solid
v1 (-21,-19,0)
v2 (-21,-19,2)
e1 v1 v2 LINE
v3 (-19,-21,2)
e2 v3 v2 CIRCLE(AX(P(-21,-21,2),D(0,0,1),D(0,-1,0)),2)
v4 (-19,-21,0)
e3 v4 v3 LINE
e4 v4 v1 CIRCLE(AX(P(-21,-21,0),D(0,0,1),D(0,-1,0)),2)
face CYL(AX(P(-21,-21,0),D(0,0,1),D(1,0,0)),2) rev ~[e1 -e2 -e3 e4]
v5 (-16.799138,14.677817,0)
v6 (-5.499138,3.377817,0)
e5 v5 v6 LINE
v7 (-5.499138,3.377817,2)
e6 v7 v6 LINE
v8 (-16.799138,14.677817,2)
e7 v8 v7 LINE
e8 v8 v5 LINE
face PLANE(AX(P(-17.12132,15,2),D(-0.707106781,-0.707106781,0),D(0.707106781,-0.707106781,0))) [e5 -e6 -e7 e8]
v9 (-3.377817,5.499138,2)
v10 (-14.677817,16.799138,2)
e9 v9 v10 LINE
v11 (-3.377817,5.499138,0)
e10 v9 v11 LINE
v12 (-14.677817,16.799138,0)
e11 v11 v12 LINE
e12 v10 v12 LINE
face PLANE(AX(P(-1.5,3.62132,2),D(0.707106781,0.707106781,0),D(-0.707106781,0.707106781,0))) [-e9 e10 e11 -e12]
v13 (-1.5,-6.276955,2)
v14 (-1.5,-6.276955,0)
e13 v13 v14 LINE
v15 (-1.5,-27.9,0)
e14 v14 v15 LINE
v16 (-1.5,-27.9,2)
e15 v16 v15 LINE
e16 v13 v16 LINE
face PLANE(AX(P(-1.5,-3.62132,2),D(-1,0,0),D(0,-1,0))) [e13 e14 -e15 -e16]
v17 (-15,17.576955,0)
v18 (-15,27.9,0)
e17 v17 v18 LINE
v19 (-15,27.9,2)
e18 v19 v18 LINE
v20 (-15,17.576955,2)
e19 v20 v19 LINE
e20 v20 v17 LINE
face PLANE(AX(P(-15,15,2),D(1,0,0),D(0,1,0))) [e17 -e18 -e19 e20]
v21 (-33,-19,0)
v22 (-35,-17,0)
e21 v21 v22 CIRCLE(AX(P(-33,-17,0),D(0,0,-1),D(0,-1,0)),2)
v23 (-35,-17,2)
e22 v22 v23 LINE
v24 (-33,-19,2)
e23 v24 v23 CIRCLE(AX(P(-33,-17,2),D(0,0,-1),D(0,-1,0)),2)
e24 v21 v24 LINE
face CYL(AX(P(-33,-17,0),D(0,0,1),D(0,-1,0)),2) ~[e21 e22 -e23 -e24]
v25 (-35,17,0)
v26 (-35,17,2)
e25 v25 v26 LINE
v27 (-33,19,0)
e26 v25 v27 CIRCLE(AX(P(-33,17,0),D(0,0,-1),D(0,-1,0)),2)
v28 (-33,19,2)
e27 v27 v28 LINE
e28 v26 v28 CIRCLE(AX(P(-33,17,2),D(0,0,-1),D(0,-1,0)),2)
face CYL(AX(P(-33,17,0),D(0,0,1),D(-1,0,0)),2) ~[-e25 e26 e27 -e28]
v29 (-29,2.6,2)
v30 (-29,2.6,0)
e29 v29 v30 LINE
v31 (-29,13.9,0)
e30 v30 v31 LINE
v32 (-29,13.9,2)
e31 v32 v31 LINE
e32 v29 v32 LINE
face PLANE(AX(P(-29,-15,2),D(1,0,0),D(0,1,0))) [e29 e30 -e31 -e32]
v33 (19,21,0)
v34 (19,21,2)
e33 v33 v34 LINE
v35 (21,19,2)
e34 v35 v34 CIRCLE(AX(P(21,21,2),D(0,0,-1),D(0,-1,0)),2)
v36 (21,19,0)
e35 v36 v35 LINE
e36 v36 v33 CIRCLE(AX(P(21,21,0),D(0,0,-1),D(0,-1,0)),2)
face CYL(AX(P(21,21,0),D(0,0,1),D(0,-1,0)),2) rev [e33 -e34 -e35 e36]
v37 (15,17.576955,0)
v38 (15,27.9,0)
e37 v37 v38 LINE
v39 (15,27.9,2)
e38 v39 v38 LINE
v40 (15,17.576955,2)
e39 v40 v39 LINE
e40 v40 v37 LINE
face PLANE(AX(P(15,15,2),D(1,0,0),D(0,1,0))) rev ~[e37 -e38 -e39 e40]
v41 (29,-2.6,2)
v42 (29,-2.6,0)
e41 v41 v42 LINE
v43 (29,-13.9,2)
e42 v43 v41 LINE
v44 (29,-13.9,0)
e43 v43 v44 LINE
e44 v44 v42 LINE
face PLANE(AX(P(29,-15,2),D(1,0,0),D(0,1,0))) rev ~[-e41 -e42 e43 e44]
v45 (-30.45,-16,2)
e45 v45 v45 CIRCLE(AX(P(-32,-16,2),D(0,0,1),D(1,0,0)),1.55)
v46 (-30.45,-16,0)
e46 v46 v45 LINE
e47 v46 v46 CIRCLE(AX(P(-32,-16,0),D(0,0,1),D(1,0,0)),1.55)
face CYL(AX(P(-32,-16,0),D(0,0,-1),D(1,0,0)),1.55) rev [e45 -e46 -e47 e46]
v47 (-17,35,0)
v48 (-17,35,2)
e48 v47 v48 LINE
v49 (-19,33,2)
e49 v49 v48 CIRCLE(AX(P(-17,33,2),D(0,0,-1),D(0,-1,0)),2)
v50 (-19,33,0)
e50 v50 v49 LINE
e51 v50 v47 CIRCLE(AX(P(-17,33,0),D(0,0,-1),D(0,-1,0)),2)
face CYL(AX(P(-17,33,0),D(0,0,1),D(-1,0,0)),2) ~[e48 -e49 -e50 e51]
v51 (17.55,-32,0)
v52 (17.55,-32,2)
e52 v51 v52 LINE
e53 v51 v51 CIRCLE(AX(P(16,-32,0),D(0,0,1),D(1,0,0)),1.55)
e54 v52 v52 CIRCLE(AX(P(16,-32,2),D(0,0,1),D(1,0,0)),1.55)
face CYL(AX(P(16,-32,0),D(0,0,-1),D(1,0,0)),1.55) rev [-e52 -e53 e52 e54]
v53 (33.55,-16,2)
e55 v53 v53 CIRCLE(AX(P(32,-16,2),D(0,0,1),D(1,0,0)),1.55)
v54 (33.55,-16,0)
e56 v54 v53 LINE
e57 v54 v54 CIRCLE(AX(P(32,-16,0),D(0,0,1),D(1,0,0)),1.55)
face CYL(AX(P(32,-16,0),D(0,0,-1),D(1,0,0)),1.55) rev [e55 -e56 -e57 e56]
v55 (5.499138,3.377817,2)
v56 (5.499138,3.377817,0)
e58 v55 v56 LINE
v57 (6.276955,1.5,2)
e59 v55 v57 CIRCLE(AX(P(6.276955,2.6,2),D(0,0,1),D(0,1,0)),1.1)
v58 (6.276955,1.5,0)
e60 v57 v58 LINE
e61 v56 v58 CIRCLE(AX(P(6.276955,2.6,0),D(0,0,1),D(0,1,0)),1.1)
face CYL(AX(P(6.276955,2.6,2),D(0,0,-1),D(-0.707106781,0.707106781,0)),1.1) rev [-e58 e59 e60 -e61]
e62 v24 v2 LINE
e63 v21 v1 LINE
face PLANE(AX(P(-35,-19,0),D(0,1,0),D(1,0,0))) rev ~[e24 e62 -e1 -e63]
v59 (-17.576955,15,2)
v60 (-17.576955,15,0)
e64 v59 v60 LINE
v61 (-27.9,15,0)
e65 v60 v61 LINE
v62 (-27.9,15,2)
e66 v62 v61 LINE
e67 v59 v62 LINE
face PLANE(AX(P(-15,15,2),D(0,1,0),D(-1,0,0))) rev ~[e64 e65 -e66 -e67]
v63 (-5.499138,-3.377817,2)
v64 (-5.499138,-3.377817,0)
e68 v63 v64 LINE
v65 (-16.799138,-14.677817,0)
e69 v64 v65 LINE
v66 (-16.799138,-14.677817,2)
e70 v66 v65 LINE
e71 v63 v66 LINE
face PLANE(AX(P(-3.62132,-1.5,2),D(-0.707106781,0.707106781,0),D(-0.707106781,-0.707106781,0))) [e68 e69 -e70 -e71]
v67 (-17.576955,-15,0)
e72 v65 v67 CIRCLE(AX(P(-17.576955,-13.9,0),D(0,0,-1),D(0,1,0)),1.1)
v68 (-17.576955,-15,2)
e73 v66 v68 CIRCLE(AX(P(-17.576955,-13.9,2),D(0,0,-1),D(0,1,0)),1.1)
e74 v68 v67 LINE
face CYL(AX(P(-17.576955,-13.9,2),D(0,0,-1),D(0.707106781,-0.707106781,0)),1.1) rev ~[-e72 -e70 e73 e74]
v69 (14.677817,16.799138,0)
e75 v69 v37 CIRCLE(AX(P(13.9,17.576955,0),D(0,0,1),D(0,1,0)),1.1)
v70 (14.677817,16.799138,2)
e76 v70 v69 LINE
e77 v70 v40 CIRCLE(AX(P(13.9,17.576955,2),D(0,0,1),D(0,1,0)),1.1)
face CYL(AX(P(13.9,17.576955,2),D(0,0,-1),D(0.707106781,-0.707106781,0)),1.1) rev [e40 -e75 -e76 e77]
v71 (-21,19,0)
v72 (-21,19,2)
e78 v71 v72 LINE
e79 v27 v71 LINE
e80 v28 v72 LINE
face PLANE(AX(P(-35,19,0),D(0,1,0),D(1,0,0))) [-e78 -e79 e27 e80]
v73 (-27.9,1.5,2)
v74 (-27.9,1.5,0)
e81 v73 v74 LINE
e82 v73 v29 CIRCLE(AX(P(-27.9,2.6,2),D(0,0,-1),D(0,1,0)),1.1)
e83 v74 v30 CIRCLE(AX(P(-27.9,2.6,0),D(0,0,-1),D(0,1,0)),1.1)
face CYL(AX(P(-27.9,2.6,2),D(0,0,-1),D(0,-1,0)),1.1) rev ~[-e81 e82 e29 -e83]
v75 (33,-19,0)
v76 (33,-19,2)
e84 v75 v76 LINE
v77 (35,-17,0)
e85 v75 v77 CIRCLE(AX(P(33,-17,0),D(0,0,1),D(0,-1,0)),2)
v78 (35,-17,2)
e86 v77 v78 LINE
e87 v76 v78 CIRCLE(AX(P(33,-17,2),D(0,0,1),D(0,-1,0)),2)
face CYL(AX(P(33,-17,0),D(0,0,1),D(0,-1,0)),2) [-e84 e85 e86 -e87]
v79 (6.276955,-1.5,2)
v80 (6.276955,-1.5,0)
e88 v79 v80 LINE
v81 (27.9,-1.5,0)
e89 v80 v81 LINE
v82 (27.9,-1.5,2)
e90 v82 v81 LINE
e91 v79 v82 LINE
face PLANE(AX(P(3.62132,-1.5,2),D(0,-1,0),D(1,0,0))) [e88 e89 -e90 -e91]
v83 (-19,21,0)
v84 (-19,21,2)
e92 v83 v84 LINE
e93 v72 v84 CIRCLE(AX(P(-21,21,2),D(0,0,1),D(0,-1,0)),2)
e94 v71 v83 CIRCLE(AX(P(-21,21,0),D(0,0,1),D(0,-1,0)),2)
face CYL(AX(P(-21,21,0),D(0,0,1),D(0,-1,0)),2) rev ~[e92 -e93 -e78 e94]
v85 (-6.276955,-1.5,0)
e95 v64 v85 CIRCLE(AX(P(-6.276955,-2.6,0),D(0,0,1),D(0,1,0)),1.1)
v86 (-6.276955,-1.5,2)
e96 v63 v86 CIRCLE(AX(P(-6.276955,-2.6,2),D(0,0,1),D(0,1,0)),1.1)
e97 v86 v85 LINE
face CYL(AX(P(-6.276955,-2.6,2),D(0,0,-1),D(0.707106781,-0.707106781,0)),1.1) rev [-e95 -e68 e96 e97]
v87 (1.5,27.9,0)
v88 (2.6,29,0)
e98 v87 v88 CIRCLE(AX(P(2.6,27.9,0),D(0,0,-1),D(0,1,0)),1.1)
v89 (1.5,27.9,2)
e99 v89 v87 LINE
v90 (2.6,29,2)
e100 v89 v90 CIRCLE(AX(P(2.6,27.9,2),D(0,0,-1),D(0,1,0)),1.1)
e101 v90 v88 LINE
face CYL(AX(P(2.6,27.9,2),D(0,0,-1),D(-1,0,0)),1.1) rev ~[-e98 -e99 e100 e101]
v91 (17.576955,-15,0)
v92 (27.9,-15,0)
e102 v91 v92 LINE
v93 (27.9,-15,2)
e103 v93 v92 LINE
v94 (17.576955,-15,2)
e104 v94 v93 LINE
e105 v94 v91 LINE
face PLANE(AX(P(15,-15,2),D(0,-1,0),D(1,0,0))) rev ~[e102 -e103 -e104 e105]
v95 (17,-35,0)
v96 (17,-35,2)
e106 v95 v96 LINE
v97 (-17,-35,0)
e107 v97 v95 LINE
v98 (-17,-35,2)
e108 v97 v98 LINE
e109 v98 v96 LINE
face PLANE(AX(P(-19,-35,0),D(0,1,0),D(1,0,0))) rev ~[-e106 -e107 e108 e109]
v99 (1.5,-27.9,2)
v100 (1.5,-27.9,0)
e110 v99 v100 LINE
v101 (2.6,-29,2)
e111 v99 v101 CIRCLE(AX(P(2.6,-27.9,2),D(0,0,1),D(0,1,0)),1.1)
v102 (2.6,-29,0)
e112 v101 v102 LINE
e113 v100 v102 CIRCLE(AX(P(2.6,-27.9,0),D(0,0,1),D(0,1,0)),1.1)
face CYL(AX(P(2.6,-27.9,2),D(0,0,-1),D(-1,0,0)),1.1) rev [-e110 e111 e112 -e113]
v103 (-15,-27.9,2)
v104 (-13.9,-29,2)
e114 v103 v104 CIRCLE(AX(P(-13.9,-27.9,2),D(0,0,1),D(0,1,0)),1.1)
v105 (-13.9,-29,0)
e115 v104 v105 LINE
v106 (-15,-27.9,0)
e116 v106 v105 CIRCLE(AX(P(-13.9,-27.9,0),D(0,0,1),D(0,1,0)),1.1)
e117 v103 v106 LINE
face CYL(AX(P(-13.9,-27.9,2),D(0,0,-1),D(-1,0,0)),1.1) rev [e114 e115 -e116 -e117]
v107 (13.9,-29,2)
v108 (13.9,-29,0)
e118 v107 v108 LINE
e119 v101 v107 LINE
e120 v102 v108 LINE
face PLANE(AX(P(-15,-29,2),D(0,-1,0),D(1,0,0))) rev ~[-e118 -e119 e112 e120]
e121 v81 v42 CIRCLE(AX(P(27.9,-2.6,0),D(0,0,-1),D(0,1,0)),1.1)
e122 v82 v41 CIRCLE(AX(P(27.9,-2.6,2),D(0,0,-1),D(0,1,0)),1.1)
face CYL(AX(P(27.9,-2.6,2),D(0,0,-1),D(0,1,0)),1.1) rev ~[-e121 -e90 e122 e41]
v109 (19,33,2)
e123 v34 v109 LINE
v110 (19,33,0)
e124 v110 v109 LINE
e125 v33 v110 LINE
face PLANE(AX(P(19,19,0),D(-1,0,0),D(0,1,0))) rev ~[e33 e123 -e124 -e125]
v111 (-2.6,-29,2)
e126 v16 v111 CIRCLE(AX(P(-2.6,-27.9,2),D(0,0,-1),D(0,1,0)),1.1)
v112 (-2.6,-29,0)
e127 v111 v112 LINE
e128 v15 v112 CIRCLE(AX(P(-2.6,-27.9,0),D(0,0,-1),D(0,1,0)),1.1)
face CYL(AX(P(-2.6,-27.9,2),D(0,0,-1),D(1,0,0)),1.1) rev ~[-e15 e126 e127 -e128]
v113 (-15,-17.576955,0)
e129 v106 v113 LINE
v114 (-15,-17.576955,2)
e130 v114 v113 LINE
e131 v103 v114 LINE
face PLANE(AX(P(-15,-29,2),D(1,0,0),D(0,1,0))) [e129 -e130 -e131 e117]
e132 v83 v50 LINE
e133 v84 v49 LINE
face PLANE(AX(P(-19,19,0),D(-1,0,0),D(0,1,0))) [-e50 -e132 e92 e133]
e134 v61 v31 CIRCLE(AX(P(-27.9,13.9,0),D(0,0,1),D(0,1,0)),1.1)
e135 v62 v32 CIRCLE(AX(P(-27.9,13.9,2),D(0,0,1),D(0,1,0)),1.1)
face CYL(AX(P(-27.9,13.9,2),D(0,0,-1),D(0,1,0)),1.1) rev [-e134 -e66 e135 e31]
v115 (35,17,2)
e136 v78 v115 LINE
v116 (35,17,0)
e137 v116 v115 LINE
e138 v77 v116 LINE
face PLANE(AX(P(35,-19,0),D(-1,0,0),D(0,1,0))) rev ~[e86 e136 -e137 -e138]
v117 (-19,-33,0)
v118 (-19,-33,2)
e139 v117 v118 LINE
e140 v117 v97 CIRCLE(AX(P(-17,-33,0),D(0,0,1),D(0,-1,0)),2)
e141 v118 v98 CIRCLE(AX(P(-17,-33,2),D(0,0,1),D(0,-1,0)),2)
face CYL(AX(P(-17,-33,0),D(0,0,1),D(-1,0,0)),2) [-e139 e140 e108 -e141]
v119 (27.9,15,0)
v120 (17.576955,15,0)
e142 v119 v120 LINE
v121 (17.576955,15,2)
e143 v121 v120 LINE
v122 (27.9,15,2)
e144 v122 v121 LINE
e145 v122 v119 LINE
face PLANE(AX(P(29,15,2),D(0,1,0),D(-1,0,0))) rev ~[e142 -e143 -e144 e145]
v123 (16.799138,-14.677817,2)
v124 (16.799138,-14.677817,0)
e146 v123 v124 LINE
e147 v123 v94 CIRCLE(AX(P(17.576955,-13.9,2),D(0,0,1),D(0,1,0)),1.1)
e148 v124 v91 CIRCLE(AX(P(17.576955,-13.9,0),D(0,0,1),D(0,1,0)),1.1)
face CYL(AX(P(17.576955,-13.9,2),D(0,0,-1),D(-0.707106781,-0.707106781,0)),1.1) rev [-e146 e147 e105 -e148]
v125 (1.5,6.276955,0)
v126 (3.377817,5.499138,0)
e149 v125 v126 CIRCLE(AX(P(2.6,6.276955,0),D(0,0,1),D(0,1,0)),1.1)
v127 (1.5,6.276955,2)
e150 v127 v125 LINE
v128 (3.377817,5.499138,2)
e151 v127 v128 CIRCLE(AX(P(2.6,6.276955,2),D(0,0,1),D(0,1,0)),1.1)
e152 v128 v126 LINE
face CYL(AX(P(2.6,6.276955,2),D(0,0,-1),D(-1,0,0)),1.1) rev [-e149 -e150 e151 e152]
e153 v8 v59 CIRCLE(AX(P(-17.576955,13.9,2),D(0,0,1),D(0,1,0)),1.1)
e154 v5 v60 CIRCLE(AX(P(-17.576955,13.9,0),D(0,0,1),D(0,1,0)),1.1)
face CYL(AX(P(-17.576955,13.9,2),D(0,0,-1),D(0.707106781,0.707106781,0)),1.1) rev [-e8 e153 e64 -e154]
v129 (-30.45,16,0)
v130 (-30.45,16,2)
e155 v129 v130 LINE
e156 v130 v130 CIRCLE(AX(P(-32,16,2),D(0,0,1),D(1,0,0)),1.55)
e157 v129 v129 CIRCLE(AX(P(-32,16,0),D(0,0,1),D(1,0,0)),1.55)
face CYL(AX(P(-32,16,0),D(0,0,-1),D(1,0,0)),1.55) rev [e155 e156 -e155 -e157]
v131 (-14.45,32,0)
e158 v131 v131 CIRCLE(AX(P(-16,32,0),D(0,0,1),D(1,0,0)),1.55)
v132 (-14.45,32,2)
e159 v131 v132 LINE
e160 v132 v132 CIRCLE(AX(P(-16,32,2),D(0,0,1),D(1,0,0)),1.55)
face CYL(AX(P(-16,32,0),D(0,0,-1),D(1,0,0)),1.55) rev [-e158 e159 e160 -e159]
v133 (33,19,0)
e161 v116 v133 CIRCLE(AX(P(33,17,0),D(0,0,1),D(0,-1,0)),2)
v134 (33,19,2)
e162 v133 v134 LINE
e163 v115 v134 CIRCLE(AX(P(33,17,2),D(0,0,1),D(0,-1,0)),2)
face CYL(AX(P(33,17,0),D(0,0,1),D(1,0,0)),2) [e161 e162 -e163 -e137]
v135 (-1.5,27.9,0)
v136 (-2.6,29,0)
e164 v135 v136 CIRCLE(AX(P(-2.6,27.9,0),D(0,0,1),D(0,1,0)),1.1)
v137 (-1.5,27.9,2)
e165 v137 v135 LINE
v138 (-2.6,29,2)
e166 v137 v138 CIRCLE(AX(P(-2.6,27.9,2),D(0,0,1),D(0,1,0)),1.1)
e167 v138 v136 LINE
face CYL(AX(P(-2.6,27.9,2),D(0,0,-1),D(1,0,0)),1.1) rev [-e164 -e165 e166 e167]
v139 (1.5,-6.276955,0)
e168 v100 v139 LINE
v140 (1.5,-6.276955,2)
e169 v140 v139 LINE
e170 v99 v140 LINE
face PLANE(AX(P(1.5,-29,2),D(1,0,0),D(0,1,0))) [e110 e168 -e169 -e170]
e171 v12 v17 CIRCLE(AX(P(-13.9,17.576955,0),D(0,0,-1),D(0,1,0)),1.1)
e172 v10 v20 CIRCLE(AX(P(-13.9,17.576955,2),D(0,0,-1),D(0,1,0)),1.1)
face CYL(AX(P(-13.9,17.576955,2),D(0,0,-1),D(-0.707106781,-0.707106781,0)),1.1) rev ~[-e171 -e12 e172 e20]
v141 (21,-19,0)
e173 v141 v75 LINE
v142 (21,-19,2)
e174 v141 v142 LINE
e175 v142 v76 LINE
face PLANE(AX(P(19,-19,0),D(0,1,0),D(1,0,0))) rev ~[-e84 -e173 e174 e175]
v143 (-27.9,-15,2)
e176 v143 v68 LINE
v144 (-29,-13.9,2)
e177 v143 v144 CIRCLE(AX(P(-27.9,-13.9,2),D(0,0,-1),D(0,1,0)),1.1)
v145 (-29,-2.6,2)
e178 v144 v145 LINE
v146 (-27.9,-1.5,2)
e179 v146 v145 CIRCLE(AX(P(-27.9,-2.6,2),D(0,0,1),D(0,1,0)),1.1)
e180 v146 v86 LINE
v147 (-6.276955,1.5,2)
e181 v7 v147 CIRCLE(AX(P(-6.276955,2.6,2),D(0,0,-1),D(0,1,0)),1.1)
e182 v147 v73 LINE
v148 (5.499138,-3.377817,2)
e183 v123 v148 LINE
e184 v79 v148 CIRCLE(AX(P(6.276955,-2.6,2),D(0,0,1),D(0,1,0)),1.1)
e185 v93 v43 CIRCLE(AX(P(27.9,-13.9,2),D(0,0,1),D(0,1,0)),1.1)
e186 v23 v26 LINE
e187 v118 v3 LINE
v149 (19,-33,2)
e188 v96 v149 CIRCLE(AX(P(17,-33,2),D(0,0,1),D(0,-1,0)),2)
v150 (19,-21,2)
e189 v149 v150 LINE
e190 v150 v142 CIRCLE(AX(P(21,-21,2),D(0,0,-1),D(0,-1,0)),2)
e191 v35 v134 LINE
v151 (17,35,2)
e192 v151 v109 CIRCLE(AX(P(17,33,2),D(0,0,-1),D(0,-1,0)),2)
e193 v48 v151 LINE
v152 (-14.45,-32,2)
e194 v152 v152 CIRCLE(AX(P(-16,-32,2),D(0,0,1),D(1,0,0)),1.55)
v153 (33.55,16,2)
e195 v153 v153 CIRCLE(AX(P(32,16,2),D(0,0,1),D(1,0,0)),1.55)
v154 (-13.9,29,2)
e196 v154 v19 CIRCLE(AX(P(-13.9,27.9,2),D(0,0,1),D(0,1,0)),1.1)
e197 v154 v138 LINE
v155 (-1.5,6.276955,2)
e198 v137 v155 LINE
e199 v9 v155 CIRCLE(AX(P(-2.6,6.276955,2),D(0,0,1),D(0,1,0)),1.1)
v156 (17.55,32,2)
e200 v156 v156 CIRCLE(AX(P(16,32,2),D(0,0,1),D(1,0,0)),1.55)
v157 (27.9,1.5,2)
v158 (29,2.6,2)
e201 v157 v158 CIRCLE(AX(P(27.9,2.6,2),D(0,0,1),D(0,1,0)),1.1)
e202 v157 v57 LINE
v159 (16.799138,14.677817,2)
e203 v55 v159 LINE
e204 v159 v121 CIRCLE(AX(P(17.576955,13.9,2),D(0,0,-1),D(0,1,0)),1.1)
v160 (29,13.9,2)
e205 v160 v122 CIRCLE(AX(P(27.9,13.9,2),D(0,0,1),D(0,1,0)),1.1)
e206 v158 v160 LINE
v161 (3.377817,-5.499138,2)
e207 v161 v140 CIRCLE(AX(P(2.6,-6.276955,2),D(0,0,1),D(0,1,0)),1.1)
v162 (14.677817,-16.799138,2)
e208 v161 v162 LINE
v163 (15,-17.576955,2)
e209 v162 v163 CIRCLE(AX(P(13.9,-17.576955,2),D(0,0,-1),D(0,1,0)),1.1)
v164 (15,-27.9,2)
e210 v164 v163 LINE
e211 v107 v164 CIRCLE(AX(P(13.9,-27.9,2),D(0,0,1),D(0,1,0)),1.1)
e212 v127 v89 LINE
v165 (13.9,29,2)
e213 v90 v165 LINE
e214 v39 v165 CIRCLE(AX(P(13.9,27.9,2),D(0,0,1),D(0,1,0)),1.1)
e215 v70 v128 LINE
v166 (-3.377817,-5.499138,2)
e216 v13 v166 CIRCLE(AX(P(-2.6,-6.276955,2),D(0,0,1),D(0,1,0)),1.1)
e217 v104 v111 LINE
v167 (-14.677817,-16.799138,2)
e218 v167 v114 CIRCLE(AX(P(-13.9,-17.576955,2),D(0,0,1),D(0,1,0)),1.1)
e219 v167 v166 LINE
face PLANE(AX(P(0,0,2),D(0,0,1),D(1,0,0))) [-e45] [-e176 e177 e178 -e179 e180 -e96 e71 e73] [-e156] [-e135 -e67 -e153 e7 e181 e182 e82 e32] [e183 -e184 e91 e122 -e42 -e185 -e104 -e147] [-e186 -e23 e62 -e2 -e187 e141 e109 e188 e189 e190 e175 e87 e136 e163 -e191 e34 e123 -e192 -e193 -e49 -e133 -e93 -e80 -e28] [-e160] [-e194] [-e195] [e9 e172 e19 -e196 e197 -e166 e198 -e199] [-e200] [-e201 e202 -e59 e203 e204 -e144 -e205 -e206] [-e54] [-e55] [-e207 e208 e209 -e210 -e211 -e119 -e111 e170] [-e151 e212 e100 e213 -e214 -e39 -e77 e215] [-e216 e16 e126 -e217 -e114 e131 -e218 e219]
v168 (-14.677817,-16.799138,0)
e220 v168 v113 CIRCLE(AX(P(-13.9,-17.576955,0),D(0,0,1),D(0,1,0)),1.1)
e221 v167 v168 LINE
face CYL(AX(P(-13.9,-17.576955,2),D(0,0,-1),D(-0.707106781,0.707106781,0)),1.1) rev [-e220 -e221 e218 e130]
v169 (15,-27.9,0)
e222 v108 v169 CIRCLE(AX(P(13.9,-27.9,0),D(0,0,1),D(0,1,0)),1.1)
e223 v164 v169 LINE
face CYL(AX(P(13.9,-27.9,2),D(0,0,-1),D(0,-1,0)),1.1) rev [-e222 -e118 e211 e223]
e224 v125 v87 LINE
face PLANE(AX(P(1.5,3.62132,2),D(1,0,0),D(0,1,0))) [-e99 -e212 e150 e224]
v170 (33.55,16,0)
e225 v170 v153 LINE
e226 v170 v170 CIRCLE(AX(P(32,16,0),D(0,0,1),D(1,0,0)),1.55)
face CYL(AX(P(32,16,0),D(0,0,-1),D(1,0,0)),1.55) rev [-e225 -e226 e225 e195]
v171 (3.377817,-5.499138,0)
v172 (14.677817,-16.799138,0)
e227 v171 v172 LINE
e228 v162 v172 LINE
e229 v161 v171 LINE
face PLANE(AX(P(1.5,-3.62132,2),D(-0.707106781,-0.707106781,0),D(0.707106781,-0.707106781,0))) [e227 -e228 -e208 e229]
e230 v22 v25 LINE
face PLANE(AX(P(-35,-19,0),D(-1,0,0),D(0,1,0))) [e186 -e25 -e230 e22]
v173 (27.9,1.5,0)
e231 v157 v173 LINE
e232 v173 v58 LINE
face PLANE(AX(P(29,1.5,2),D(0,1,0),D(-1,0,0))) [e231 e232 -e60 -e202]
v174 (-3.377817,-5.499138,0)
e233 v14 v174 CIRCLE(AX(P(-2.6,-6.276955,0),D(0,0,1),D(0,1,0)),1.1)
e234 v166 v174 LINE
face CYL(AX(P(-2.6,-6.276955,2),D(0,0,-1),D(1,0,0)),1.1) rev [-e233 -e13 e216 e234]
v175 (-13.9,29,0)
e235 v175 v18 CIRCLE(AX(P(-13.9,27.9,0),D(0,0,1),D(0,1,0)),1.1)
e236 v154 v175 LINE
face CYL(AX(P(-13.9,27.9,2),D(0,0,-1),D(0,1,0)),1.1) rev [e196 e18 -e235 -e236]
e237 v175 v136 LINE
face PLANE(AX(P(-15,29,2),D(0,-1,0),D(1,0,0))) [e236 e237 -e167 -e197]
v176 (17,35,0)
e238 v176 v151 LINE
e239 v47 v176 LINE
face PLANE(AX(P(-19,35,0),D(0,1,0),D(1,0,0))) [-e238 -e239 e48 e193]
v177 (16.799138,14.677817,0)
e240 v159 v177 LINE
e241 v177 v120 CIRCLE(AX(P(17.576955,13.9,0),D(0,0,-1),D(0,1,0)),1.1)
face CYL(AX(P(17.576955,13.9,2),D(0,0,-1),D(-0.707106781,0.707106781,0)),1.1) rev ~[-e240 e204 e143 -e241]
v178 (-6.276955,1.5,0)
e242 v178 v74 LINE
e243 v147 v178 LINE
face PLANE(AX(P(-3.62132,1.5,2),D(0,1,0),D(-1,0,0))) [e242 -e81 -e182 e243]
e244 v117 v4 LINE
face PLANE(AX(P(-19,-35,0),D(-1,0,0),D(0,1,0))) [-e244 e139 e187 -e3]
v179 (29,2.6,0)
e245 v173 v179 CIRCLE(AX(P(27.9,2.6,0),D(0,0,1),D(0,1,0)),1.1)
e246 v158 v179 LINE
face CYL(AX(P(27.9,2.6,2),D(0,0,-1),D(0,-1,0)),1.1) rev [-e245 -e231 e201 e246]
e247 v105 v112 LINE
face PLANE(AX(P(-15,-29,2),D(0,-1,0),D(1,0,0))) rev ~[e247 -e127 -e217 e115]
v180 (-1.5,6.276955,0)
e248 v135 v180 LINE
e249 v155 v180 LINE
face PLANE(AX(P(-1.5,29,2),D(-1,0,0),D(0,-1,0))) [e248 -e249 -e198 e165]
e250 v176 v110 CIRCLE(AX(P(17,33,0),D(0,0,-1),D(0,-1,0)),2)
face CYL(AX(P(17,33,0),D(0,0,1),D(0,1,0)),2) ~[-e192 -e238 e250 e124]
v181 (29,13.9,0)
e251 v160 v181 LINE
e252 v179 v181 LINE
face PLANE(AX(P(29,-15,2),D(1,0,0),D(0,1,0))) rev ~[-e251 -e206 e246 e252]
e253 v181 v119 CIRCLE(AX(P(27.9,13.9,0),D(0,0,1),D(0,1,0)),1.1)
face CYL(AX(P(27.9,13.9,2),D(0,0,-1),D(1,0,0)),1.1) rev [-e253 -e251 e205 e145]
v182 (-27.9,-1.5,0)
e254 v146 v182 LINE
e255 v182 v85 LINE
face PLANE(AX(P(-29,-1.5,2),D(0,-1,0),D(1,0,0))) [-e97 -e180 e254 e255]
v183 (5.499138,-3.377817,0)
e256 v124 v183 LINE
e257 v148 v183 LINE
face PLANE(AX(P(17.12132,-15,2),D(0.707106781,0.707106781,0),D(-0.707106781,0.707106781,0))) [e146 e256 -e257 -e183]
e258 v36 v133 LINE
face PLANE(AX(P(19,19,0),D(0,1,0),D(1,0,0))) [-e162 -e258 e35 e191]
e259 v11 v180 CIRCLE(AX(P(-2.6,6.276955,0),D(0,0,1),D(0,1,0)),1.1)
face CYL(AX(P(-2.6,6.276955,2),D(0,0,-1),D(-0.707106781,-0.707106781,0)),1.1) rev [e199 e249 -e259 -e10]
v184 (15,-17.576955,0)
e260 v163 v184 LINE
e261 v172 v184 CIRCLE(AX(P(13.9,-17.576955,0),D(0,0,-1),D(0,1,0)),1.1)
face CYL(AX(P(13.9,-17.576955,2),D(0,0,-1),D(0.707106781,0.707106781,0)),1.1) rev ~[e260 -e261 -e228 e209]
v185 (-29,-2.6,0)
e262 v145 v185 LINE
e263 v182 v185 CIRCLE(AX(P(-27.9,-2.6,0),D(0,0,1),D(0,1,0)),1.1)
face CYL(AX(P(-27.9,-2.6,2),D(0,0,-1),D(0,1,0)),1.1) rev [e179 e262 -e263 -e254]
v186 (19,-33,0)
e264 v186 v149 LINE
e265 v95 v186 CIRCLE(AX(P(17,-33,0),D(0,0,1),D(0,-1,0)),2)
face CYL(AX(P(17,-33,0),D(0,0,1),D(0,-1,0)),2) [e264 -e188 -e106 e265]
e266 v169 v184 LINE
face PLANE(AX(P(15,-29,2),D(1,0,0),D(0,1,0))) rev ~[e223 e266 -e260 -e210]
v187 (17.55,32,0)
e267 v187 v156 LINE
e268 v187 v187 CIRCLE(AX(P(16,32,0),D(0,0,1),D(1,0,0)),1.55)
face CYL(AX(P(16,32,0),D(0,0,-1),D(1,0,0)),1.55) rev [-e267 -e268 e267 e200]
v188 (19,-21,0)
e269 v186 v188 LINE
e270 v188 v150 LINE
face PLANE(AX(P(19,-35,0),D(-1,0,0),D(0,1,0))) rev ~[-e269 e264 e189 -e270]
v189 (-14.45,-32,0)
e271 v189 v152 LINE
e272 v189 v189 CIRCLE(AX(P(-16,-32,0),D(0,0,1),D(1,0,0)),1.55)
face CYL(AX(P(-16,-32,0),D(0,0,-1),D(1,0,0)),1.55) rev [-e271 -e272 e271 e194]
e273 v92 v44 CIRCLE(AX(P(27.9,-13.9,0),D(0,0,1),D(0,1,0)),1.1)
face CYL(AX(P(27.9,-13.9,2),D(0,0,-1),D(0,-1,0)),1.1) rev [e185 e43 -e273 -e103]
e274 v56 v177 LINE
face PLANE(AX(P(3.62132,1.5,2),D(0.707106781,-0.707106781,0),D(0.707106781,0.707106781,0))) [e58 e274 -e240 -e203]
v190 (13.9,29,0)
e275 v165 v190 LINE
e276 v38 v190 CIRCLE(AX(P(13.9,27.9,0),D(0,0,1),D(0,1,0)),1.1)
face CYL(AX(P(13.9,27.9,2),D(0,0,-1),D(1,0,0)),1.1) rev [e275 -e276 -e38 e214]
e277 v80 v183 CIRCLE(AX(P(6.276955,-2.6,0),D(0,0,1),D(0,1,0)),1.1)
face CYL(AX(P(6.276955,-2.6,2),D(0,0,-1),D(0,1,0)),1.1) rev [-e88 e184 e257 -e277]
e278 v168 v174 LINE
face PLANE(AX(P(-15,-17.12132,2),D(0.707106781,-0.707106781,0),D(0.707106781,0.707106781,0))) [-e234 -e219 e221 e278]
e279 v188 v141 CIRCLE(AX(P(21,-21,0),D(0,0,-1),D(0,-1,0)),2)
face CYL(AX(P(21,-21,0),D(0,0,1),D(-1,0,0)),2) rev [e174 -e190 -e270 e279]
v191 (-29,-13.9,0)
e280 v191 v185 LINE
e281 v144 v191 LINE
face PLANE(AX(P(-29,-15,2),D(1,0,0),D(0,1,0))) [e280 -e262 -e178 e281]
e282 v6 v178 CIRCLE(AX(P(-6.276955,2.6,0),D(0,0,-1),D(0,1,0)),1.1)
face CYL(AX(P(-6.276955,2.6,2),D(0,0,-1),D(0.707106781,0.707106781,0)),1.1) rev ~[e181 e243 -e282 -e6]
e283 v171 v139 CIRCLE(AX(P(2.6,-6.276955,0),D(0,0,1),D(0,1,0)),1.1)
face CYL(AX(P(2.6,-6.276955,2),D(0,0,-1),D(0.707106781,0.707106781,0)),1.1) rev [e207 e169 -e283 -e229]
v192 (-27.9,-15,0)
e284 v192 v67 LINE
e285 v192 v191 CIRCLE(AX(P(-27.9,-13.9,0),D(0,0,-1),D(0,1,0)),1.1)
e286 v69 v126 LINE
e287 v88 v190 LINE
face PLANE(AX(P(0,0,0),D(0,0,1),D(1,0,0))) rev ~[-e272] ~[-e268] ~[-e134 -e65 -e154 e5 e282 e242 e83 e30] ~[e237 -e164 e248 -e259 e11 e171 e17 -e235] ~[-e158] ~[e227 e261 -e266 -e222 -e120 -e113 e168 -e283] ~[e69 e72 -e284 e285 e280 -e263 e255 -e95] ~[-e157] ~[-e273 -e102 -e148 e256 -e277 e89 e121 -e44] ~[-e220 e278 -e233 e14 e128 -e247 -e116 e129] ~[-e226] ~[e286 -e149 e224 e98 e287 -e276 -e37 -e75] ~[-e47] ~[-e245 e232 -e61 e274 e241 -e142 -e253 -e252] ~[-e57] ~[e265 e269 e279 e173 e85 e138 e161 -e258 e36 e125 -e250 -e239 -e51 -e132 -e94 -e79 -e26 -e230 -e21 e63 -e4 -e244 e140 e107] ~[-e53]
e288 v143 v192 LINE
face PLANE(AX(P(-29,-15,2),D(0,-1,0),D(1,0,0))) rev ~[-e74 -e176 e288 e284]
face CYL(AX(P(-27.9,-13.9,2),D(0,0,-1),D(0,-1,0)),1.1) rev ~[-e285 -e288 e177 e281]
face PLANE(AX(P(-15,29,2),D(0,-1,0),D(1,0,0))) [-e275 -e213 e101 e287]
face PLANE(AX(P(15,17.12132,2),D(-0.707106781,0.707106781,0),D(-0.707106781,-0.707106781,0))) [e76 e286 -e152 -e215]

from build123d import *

# Parameters (mm, degrees)
SKETCH_1_W          = 16
SKETCH_1_H          = 38
SKETCH_1_R          = 1.55
SKETCH_1_W_2        = 38
SKETCH_1_H_2        = 16
EXTRUDE_1_DEPTH     = 2
FILLET_1_R          = 2
SKETCH_2_W          = 14
SKETCH_2_H          = 30
SKETCH_2_W_2        = 30
SKETCH_2_H_2        = 14
CUT_EXTRUDE_1_DEPTH = 2
EXTRUDE_2_DEPTH     = 2
FILLET_2_R          = 1.1


with BuildPart() as part:
    # 草图1 → 凸台-拉伸1 (new body)
    # profile 1 of 5: a face of its own
    with BuildSketch(Plane.XY):
        with Locations((-27, 0)):
            Rectangle(SKETCH_1_W, SKETCH_1_H)
        with Locations((-32, -16)):
            Circle(SKETCH_1_R, mode=Mode.SUBTRACT)
        with Locations((-32, 16)):
            Circle(SKETCH_1_R, mode=Mode.SUBTRACT)
    # profile 2 of 5: a face of its own
    with BuildSketch(Plane.XY):
        Rectangle(SKETCH_1_W_2, SKETCH_1_H)
    # profile 3 of 5: a face of its own
    with BuildSketch(Plane.XY):
        with Locations((0, 27)):
            Rectangle(SKETCH_1_W_2, SKETCH_1_H_2)
        with Locations((-16, 32)):
            Circle(SKETCH_1_R, mode=Mode.SUBTRACT)
        with Locations((16, 32)):
            Circle(SKETCH_1_R, mode=Mode.SUBTRACT)
    # profile 4 of 5: a face of its own
    with BuildSketch(Plane.XY):
        with Locations((27, 0)):
            Rectangle(SKETCH_1_W, SKETCH_1_H)
        with Locations((32, -16)):
            Circle(SKETCH_1_R, mode=Mode.SUBTRACT)
        with Locations((32, 16)):
            Circle(SKETCH_1_R, mode=Mode.SUBTRACT)
    # profile 5 of 5: a face of its own
    with BuildSketch(Plane.XY):
        with Locations((0, -27)):
            Rectangle(SKETCH_1_W_2, SKETCH_1_H_2)
        with Locations((-16, -32)):
            Circle(SKETCH_1_R, mode=Mode.SUBTRACT)
        with Locations((16, -32)):
            Circle(SKETCH_1_R, mode=Mode.SUBTRACT)
    extrude(amount=EXTRUDE_1_DEPTH)

    # 圆角1
    fillet_1_edges = [part.edges().sort_by_distance(p)[0] for p in [
        (-19, 19, 1),
        (-19, 35, 1),
        (19, 35, 1),
        (19, 19, 1),
        (35, 19, 1),
        (35, -19, 1),
        (19, -19, 1),
        (19, -35, 1),
        (-19, -35, 1),
        (-19, -19, 1),
        (-35, -19, 1),
        (-35, 19, 1),
    ]]
    fillet(fillet_1_edges, radius=FILLET_1_R)

    # 草图2 → 切除-拉伸1 (cut)
    with BuildSketch(Plane.XY.offset(2)):
        with Locations((-22, 0)):
            Rectangle(SKETCH_2_W, SKETCH_2_H)
        with Locations((22, 0)):
            Rectangle(SKETCH_2_W, SKETCH_2_H)
        Rectangle(SKETCH_2_W_2, SKETCH_2_H)
        with Locations((0, -22)):
            Rectangle(SKETCH_2_W_2, SKETCH_2_H_2)
        with Locations((0, 22)):
            Rectangle(SKETCH_2_W_2, SKETCH_2_H_2)
    extrude(amount=-CUT_EXTRUDE_1_DEPTH, mode=Mode.SUBTRACT)

    # 草图3 → 凸台-拉伸2 (add)
    with BuildSketch(Plane.XY.offset(2)):
        Polygon((-17.121320344, 15), (-3.621320344, 1.5), (-29, 1.5), (-29, -1.5), (-3.621320344, -1.5), (-17.121320344, -15), (-15, -17.121320344), (-1.5, -3.621320344), (-1.5, -29), (1.5, -29), (1.5, -3.621320344), (13.939339828, -16.060660172), (15, -17.121320344), (17.121320344, -15), (16.060660172, -13.939339828), (3.621320344, -1.5), (29, -1.5), (29, 1.5), (3.621320344, 1.5), (17.121320344, 15), (15, 17.121320344), (1.5, 3.621320344), (1.5, 29), (-1.5, 29), (-1.5, 3.621320344), (-15, 17.121320344), align=None)
    extrude(amount=-EXTRUDE_2_DEPTH)

    # 圆角2
    fillet_2_edges = [part.edges().sort_by_distance(p)[0] for p in [
        (-29, -15, 1),
        (-29, 15, 1),
        (-15, 29, 1),
        (15, 29, 1),
        (29, 15, 1),
        (29, -15, 1),
        (15, -29, 1),
        (-15, -29, 1),
        (-17.121320344, 15, 1),
        (-15, 17.121320344, 1),
        (-1.5, 3.621320344, 1),
        (-1.5, 29, 1),
        (1.5, 29, 1),
        (1.5, 3.621320344, 1),
        (15, 17.121320344, 1),
        (17.121320344, 15, 1),
        (3.621320344, 1.5, 1),
        (29, 1.5, 1),
        (29, -1.5, 1),
        (3.621320344, -1.5, 1),
        (17.121320344, -15, 1),
        (15, -17.121320344, 1),
        (1.5, -3.621320344, 1),
        (1.5, -29, 1),
        (-1.5, -29, 1),
        (-1.5, -3.621320344, 1),
        (-15, -17.121320344, 1),
        (-17.121320344, -15, 1),
        (-3.621320344, -1.5, 1),
        (-29, -1.5, 1),
        (-29, 1.5, 1),
        (-3.621320344, 1.5, 1),
    ]]
    fillet(fillet_2_edges, radius=FILLET_2_R)


solid = part.part
